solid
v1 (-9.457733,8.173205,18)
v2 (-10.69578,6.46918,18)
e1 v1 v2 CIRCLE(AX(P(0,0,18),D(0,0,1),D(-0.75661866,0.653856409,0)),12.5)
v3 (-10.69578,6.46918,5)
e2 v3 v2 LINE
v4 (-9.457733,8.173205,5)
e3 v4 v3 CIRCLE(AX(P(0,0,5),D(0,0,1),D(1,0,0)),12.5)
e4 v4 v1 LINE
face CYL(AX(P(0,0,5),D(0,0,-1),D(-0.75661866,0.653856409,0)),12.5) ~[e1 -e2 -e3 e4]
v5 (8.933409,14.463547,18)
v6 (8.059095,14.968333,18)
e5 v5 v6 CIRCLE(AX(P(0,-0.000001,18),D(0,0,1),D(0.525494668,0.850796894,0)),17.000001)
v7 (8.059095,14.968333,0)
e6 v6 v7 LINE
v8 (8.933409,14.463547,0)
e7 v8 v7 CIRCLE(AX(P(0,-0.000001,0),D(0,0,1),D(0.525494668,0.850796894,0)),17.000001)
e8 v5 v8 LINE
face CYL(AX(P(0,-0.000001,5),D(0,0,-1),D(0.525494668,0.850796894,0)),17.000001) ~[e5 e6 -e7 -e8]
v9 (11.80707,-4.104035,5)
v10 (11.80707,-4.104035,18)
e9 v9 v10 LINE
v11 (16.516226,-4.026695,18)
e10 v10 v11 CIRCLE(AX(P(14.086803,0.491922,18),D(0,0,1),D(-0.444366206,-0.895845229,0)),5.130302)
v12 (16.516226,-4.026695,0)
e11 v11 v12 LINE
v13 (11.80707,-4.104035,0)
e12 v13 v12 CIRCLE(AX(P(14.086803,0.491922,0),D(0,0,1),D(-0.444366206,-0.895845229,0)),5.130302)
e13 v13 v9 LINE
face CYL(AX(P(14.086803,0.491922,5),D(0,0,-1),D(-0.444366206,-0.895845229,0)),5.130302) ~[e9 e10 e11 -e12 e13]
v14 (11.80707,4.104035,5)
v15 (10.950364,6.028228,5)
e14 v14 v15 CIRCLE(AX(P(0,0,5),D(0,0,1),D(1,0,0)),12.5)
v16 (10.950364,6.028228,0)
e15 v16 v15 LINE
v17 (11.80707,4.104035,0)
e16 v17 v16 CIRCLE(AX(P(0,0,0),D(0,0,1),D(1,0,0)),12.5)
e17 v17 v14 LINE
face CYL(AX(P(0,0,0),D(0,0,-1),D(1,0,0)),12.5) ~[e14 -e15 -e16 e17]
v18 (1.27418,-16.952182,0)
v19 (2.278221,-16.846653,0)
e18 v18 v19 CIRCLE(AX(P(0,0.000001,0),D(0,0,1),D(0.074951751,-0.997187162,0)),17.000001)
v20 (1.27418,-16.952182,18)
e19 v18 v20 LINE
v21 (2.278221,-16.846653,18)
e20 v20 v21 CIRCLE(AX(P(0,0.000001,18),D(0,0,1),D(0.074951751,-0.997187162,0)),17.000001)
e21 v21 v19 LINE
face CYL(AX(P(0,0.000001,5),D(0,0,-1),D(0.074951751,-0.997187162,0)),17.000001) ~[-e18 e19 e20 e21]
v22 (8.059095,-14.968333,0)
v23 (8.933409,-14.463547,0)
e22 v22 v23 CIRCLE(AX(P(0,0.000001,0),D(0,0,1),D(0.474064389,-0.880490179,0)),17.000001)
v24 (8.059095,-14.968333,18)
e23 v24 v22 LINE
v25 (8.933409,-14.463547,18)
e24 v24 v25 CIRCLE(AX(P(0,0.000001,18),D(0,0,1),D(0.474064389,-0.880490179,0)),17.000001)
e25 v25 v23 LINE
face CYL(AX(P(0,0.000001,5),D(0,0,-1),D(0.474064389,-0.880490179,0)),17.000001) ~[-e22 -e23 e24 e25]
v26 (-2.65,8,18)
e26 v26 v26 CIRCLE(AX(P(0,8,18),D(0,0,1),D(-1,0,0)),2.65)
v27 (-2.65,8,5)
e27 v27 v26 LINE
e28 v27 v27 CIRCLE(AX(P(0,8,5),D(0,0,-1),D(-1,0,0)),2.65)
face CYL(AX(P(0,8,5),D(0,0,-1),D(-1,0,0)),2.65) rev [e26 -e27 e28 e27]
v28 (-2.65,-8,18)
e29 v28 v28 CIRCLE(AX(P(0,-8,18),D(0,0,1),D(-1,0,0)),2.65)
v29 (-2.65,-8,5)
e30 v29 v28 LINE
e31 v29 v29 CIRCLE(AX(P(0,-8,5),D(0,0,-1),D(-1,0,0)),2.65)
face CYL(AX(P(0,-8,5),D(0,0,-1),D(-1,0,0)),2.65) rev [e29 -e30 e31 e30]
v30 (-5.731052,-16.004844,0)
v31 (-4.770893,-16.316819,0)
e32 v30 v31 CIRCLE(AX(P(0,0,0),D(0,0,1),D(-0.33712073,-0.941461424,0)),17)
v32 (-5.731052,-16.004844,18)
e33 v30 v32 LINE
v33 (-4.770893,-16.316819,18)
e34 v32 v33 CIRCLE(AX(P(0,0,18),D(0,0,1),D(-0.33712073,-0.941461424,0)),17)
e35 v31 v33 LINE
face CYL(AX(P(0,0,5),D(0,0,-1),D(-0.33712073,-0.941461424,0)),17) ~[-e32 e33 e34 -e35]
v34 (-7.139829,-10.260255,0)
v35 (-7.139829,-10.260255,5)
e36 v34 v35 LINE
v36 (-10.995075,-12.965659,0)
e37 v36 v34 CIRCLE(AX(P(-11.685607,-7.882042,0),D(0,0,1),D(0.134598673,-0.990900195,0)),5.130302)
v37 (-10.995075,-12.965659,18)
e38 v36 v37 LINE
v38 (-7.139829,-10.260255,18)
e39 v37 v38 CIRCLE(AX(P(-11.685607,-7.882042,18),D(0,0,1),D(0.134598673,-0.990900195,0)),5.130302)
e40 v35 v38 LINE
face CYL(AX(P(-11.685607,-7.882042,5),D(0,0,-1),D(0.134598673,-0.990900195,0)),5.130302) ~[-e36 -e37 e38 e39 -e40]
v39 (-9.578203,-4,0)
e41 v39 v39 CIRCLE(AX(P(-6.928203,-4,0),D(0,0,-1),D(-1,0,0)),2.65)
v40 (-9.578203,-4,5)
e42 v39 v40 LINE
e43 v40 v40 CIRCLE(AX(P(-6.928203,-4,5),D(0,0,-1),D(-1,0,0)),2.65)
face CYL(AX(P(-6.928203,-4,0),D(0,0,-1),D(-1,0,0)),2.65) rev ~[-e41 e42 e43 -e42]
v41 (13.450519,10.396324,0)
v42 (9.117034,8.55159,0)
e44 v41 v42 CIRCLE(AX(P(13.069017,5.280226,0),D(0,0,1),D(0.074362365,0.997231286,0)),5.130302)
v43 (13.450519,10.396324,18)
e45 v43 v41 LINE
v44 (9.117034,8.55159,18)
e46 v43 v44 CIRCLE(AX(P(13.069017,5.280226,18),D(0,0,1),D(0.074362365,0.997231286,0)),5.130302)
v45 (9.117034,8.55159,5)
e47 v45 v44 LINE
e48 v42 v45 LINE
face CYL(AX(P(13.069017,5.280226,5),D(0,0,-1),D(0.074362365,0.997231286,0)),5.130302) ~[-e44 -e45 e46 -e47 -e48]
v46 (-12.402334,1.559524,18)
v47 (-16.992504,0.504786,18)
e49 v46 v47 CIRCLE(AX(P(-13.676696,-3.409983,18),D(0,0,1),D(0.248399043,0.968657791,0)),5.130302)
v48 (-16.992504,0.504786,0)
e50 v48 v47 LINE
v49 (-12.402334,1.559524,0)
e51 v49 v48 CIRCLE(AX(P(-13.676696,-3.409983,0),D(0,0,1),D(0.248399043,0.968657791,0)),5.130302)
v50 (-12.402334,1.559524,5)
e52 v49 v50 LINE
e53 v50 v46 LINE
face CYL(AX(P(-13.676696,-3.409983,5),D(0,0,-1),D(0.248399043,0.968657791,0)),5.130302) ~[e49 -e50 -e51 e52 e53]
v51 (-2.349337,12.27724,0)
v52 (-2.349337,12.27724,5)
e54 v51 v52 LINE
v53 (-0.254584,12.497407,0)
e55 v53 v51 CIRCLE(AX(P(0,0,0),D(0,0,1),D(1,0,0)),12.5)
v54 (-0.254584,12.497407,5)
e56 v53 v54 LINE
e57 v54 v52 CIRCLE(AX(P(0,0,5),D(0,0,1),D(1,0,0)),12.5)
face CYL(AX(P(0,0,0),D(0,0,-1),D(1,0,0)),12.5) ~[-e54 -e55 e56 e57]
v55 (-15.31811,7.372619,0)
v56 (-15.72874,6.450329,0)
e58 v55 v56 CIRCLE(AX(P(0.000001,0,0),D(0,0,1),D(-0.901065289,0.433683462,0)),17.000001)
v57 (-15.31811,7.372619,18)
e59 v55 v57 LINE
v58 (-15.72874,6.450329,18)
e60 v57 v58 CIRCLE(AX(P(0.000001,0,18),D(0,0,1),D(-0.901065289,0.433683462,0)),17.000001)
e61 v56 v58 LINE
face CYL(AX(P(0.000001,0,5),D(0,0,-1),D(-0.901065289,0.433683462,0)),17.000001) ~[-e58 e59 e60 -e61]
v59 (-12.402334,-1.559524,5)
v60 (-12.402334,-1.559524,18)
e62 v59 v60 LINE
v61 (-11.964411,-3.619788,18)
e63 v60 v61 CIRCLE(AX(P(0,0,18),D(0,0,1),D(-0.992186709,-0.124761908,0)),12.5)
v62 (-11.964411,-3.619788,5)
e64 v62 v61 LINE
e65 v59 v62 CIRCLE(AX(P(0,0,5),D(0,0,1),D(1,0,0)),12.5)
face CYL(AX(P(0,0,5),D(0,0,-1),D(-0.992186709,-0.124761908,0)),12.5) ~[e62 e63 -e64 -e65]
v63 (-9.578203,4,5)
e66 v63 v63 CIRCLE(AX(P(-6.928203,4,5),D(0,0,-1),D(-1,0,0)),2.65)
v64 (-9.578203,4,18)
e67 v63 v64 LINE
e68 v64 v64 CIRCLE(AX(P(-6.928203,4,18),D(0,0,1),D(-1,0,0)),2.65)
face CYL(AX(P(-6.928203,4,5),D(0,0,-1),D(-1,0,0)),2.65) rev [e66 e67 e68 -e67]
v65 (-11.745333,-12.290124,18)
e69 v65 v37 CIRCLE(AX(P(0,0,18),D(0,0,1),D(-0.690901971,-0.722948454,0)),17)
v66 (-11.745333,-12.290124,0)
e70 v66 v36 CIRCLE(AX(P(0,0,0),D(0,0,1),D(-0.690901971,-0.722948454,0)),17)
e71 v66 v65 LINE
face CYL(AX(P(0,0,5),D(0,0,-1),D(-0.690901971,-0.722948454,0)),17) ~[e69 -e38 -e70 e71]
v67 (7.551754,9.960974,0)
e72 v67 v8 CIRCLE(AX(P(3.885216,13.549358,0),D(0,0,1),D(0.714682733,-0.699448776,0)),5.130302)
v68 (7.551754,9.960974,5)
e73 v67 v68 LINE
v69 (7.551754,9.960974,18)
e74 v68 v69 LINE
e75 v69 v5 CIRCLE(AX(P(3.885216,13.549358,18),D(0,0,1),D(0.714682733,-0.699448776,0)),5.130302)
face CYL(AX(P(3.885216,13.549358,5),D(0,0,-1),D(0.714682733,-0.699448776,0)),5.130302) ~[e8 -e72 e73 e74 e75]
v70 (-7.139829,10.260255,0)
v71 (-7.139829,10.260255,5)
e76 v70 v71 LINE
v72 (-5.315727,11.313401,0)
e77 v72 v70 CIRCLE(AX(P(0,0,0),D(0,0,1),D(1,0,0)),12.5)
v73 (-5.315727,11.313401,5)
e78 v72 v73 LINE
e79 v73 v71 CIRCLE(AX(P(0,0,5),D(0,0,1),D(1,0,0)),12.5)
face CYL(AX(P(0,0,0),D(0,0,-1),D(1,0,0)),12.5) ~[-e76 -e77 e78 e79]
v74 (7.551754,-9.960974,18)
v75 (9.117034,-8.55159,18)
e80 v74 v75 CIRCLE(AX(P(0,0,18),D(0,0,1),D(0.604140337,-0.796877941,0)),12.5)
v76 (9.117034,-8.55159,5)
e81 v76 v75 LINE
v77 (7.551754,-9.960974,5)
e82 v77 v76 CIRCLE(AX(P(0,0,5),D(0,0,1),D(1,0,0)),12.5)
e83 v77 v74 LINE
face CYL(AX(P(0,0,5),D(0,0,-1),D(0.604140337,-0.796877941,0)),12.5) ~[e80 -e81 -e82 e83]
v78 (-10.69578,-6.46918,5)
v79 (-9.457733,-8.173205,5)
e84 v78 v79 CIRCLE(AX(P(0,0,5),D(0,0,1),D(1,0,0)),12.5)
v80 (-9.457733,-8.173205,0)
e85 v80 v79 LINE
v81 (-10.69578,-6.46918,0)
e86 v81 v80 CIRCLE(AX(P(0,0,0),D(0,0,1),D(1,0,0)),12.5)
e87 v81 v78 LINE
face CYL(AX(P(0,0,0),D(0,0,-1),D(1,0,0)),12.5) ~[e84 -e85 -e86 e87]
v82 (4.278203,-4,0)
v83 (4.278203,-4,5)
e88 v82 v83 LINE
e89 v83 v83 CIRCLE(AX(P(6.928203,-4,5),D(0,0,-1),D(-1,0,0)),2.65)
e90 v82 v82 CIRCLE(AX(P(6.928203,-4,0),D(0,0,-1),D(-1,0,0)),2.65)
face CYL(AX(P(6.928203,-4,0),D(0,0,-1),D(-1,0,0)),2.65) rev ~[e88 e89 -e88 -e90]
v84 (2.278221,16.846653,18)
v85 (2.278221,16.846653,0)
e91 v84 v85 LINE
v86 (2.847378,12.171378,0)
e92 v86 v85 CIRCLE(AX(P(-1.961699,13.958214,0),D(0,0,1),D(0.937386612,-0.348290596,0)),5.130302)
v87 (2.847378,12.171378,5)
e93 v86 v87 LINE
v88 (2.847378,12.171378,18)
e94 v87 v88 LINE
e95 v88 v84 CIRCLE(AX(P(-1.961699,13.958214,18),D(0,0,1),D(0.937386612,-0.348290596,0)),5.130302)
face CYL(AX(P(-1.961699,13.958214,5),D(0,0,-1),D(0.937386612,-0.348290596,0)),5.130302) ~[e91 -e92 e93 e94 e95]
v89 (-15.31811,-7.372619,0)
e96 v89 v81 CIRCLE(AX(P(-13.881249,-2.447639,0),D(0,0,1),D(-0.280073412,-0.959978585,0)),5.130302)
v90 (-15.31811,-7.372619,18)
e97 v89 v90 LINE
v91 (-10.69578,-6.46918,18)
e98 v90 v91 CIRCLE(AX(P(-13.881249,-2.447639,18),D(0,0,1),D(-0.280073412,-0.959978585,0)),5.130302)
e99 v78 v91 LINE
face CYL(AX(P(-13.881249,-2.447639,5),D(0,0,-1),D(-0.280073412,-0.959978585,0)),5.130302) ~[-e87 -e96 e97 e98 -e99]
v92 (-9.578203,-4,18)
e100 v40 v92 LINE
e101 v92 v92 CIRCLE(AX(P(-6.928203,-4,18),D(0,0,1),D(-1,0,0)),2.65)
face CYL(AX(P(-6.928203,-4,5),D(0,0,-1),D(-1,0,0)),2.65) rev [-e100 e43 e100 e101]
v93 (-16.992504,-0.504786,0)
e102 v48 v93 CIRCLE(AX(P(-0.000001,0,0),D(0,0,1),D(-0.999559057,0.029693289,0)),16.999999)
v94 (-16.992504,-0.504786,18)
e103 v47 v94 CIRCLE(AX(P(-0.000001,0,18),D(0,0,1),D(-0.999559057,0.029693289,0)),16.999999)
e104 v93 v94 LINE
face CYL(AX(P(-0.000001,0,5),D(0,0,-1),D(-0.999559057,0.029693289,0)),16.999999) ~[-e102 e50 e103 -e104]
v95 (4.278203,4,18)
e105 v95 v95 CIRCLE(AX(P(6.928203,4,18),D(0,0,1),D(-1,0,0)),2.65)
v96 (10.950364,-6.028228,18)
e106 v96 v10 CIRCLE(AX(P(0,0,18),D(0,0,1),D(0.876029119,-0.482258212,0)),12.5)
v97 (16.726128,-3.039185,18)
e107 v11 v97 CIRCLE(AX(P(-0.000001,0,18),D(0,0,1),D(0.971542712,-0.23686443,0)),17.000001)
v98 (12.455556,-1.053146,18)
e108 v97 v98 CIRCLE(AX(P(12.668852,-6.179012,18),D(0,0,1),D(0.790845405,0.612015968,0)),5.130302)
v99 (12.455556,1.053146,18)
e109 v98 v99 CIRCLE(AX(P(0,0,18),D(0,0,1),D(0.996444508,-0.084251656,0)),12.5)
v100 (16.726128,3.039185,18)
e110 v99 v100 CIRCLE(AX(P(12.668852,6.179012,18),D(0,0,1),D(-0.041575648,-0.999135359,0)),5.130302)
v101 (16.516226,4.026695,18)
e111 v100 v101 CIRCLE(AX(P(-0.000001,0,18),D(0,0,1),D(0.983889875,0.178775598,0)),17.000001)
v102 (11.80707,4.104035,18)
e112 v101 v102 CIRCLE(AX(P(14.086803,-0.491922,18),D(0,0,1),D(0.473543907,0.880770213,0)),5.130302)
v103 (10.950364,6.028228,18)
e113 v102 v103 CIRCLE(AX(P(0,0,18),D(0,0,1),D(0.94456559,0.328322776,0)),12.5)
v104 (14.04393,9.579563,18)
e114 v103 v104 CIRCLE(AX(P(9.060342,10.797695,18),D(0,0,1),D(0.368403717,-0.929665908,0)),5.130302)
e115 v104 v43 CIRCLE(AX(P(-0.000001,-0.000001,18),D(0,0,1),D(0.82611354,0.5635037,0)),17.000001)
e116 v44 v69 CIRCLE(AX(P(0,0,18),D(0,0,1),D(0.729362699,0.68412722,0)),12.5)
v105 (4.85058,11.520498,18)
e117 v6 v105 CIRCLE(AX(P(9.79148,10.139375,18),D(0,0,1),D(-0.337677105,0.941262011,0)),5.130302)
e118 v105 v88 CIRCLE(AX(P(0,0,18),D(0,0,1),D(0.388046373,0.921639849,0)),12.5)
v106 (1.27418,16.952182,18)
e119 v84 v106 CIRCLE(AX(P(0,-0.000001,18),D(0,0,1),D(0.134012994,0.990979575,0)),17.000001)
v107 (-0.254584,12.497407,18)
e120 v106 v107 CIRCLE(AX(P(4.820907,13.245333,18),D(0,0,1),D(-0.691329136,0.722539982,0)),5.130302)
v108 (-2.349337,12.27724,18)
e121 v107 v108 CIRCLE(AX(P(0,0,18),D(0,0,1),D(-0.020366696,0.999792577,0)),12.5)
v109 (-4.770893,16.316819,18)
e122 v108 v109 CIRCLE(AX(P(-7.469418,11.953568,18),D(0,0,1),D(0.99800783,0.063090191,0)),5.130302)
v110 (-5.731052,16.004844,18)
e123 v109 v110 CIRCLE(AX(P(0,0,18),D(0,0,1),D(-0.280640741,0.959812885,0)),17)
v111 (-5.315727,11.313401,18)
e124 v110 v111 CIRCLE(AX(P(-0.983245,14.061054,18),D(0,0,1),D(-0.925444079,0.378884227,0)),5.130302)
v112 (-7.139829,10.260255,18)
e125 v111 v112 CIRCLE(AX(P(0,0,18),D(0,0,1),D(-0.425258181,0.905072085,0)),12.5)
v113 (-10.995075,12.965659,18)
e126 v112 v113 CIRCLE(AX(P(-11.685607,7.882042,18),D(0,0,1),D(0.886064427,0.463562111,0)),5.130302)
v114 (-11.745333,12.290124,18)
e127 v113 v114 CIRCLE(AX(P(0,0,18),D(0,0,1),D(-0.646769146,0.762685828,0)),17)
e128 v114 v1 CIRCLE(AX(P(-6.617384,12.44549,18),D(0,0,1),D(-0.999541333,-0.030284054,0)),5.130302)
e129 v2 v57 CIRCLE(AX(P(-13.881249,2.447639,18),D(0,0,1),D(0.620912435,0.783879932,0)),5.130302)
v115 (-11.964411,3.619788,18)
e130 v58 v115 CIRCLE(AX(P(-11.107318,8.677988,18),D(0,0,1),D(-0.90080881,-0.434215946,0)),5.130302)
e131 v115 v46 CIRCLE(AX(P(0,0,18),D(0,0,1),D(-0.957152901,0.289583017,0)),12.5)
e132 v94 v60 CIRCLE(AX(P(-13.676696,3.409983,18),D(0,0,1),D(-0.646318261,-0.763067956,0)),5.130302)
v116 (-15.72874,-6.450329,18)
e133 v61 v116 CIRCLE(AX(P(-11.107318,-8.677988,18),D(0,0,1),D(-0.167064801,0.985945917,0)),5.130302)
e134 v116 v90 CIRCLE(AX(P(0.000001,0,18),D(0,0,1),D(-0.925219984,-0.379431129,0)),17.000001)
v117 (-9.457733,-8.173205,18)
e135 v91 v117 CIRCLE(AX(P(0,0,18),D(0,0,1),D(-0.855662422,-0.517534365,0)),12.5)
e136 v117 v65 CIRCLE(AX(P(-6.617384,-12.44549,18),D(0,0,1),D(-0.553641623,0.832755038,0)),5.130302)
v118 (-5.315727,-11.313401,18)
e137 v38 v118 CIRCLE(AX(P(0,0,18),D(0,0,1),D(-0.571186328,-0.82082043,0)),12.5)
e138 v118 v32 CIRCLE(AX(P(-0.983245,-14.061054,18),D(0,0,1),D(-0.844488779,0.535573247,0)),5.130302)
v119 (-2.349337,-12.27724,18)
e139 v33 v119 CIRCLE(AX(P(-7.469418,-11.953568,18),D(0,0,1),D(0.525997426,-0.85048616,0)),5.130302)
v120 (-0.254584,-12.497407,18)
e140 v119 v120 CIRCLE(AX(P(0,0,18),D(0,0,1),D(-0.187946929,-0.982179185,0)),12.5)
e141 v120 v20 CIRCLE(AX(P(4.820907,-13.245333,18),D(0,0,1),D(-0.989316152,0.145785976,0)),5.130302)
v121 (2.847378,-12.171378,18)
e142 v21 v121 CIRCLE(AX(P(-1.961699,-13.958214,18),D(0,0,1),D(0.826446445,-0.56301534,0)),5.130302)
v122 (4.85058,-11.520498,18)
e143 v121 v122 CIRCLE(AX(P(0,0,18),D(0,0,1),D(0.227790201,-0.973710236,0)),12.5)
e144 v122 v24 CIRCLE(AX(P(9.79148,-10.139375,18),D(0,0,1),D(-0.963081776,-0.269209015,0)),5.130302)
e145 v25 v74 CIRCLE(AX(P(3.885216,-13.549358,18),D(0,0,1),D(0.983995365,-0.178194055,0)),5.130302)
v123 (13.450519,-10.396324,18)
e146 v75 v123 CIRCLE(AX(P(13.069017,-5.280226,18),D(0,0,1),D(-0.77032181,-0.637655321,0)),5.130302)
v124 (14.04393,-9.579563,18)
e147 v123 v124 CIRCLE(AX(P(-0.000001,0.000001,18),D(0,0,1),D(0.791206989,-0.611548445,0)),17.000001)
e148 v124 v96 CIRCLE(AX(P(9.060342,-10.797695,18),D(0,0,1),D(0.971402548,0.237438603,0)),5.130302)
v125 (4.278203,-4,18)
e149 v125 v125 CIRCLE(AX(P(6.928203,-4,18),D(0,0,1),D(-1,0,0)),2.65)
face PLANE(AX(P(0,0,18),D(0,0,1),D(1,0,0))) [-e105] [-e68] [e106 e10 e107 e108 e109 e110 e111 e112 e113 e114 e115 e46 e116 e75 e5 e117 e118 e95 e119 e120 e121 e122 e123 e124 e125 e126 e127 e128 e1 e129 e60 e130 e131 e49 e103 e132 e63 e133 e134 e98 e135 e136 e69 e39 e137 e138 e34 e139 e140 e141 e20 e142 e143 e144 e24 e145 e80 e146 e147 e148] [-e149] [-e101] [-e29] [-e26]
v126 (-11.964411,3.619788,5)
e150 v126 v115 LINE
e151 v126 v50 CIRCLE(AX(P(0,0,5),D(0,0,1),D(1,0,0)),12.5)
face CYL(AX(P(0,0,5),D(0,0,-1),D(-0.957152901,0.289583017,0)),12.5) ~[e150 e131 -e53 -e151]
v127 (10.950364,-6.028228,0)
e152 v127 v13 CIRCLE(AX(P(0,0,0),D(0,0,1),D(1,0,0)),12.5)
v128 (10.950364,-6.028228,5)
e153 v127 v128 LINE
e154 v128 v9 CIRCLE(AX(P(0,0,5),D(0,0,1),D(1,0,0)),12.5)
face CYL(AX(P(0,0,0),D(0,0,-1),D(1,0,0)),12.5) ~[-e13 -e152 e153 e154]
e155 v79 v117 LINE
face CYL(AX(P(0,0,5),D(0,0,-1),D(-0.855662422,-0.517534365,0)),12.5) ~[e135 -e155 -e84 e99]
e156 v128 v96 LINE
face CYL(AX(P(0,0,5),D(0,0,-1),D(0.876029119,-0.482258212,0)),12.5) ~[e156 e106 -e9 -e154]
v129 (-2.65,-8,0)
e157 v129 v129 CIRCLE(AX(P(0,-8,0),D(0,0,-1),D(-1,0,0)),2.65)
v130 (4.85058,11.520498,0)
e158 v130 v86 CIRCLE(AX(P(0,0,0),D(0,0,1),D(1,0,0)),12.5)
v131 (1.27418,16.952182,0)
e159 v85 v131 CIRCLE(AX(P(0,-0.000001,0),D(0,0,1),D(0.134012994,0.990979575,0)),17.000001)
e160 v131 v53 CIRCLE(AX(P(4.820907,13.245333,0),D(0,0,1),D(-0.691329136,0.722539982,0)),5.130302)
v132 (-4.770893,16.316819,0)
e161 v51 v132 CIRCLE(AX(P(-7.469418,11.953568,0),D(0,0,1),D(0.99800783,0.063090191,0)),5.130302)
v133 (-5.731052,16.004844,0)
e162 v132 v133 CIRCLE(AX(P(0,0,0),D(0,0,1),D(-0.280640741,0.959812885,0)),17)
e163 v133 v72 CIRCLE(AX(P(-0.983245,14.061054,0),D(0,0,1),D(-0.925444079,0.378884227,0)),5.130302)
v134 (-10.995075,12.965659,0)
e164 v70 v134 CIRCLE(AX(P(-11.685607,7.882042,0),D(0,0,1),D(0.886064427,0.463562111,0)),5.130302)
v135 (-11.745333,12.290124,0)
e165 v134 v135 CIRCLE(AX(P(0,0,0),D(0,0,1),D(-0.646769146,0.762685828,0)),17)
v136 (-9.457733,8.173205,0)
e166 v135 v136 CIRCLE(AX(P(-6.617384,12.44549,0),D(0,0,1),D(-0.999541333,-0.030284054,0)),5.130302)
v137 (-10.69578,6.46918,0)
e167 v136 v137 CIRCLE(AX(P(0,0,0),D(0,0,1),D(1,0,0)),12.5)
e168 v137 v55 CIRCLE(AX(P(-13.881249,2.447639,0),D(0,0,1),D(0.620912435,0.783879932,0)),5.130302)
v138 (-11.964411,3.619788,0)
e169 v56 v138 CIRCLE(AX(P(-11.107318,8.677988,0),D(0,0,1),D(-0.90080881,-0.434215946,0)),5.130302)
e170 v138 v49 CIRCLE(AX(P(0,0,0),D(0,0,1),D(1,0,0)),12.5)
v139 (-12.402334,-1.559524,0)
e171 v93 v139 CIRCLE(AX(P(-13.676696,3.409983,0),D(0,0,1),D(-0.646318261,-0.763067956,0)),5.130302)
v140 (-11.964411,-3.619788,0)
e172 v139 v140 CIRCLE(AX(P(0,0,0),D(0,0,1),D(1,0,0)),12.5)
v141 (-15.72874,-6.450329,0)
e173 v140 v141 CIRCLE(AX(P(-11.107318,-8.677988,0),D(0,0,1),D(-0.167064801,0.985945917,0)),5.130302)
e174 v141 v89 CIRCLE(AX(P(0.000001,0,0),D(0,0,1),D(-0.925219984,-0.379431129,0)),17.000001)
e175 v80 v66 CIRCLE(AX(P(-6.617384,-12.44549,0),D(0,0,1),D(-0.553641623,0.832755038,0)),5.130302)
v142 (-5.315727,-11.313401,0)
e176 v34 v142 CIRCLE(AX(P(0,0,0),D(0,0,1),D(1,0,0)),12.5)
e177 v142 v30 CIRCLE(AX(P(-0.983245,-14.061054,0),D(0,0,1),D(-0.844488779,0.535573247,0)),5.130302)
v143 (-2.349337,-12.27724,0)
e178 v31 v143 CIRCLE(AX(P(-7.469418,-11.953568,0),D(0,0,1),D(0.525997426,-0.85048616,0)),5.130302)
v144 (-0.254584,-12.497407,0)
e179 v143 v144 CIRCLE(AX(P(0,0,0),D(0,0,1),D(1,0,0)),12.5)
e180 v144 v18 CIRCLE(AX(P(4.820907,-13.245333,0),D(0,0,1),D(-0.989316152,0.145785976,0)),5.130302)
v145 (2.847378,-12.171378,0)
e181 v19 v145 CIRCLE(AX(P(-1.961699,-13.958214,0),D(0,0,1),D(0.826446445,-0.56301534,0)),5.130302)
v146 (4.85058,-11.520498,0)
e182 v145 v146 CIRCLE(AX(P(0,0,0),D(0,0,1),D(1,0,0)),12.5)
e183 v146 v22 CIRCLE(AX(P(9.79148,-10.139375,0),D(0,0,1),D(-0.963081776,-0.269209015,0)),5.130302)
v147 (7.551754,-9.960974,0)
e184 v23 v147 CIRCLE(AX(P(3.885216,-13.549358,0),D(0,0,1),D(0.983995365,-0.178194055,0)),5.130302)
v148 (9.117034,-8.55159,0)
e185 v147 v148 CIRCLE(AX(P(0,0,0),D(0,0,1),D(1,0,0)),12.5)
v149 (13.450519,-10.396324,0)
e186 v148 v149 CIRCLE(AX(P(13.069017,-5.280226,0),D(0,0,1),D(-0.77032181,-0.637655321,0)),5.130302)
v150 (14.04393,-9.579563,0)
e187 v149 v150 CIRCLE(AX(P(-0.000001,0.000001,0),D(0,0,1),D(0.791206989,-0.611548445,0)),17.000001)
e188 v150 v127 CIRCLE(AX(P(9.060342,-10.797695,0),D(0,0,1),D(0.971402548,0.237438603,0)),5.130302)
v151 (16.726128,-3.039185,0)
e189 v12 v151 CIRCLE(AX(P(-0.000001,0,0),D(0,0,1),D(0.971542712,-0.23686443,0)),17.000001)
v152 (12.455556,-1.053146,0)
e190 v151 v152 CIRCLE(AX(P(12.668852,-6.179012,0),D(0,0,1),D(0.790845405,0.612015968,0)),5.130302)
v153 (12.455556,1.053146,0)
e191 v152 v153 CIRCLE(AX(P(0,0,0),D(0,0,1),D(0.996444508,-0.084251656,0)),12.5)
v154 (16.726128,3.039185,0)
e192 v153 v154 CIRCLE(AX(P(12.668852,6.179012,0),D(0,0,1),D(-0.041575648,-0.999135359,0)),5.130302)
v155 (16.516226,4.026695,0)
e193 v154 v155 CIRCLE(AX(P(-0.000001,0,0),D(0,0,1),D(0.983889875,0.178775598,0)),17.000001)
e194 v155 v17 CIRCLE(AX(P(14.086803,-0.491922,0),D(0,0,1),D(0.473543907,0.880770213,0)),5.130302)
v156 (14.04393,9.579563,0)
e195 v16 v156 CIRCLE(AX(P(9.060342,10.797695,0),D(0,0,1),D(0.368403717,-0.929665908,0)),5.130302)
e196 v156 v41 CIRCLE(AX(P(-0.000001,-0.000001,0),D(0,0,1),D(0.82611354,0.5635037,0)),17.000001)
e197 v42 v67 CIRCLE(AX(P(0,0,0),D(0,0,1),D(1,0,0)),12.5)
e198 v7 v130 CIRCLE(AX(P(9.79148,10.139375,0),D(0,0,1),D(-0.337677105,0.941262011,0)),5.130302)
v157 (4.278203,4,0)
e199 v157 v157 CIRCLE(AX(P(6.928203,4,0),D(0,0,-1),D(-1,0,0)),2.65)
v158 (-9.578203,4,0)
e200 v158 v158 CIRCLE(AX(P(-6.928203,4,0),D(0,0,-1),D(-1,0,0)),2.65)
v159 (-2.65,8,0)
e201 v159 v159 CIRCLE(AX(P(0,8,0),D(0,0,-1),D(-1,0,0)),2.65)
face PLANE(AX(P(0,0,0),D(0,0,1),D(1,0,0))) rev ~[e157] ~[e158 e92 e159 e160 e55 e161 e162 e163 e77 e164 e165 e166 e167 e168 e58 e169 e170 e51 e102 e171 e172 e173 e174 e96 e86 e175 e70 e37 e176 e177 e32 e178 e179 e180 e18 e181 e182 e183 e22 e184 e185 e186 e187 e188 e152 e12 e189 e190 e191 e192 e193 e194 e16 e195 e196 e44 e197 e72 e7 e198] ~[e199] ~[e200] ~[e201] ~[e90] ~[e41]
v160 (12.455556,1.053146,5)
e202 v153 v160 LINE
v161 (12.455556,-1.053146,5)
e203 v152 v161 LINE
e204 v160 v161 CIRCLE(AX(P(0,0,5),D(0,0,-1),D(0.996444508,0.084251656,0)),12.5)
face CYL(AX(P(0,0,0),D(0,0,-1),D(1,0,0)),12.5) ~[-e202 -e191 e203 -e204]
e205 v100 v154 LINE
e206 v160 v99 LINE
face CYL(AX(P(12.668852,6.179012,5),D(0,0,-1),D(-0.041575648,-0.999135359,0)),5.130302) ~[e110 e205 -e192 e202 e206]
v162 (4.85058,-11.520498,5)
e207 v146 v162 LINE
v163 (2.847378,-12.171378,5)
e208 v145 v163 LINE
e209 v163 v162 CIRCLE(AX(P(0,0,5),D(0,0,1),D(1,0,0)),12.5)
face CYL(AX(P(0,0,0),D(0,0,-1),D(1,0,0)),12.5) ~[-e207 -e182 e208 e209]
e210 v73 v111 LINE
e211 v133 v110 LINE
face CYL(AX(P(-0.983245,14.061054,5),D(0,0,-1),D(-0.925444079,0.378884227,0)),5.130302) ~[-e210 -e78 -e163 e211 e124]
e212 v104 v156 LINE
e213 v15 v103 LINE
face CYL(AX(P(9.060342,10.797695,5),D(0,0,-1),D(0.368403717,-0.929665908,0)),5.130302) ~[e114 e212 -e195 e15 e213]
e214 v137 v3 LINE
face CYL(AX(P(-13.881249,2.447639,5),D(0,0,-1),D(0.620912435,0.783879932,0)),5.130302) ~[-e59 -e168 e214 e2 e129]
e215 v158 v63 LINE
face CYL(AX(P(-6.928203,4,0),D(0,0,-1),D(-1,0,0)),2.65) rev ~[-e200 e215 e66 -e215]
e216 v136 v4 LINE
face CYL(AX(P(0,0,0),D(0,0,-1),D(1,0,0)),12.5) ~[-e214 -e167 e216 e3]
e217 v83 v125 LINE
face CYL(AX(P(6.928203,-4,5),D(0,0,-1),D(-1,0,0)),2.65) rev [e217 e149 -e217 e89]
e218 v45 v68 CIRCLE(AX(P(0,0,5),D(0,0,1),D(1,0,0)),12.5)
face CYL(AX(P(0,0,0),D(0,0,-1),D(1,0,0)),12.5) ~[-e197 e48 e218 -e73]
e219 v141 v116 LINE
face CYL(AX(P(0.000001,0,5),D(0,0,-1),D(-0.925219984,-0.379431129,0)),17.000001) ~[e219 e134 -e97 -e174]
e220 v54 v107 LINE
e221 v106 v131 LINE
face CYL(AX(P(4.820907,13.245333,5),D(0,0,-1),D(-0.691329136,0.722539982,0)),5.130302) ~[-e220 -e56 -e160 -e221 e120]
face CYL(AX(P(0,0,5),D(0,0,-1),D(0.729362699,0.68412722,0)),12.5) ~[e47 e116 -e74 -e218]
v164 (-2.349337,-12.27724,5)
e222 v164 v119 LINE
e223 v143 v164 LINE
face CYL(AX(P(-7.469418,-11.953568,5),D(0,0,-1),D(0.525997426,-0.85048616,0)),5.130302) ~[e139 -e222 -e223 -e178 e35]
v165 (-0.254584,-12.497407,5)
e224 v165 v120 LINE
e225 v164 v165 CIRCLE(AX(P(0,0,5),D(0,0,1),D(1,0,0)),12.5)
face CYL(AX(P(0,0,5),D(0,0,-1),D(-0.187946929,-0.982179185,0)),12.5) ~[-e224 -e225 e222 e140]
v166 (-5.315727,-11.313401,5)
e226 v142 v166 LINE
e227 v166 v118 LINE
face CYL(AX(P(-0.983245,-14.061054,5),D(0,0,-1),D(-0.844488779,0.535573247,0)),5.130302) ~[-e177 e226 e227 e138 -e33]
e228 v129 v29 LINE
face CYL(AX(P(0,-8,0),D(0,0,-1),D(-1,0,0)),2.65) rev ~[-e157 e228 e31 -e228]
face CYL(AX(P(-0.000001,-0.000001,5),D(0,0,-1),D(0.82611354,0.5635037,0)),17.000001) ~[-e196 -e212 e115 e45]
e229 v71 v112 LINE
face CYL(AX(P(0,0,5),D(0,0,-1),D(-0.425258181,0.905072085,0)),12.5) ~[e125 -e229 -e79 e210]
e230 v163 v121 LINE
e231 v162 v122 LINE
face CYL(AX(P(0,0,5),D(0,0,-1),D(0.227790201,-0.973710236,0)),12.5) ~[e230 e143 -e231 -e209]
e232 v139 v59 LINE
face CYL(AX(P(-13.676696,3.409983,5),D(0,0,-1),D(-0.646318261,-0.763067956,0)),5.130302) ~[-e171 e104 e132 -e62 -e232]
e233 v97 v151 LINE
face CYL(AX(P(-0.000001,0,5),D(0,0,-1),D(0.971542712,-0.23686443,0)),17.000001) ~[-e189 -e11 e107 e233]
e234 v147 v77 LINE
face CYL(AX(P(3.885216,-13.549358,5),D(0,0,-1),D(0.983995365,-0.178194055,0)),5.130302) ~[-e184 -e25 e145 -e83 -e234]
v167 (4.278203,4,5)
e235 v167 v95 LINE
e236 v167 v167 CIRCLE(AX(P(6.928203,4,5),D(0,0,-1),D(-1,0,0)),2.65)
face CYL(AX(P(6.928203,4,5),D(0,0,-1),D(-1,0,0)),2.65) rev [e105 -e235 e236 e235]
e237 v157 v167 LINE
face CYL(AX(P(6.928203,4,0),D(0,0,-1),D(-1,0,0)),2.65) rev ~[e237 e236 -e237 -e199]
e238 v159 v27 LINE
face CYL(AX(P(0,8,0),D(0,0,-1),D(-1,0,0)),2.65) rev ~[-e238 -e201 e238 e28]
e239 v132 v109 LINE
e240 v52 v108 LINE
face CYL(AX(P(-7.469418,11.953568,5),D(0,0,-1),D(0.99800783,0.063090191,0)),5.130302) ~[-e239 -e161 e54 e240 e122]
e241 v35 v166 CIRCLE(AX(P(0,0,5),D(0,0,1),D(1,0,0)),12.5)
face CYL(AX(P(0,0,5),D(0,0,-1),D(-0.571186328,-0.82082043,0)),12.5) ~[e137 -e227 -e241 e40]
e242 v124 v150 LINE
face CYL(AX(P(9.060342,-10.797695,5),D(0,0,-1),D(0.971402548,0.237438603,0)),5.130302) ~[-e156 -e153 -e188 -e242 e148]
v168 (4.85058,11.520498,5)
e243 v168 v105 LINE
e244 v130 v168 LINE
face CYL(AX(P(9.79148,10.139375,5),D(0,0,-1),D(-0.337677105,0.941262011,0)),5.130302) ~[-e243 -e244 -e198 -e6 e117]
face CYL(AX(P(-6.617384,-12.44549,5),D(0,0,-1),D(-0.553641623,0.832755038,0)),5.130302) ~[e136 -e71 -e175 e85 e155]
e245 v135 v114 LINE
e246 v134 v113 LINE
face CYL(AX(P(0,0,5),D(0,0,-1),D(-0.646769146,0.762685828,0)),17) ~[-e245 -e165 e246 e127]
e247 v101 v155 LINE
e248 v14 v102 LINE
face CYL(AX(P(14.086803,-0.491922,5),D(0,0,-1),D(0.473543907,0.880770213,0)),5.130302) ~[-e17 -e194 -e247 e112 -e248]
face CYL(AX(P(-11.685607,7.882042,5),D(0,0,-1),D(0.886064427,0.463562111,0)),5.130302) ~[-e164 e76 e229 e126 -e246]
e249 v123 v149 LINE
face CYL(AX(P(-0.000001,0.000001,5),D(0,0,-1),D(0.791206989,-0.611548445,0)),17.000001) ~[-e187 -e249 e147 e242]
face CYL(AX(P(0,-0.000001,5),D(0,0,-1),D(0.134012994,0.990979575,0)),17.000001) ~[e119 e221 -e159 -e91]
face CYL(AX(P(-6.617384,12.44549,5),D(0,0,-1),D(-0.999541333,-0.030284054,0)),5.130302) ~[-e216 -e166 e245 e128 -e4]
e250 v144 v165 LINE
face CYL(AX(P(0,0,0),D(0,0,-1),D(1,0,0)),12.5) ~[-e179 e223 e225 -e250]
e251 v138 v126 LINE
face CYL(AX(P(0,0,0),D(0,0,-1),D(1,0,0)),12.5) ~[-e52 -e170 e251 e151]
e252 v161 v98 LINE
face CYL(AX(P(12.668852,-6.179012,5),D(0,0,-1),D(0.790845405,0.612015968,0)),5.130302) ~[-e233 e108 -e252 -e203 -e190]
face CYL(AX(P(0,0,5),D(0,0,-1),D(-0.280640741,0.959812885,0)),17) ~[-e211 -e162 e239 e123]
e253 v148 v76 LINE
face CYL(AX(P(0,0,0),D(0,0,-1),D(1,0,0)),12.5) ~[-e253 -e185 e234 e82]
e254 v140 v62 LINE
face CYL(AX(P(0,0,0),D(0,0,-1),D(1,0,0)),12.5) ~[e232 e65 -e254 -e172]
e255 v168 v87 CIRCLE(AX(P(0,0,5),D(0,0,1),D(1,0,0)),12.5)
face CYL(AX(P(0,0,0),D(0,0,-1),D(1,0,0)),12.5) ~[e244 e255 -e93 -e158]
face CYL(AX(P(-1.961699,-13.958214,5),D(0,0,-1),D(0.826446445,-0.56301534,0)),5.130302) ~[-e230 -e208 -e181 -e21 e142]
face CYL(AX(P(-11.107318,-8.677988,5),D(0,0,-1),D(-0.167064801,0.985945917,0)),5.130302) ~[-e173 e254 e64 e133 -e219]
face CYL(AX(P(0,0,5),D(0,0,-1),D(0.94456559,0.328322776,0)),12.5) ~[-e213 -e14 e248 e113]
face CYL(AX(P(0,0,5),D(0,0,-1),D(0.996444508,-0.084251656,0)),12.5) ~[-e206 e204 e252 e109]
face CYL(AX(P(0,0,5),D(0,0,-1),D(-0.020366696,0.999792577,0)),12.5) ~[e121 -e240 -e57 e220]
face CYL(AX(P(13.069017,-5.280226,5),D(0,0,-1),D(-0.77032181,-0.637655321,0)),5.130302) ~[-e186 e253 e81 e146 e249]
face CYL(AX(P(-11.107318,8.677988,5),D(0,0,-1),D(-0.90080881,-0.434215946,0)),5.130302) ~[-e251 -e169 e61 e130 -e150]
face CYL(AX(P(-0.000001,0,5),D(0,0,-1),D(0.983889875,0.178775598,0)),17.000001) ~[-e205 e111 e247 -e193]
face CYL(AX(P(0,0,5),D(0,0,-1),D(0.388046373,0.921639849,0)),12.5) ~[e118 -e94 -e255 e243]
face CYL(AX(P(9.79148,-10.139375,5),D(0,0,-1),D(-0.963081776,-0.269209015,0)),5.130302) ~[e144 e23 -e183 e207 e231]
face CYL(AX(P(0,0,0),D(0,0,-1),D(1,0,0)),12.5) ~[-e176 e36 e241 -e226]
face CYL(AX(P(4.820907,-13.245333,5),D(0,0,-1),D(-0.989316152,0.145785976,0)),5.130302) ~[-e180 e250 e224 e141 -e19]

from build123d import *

# Parameters (mm, degrees)
SKETCH_1_R          = 12.5
EXTRUDE_2_DEPTH     = 5
EXTRUDE_START       = -5
EXTRUDE_4_DEPTH     = 5
SKETCH_5_R          = 2.65
CUT_EXTRUDE_1_DEPTH = 5
SKETCH_8_R          = 2.65
EXTRUDE_6_DEPTH     = 13


with BuildPart() as part:
    # 草图1 → 凸台-拉伸2 (new body)
    with BuildSketch(Plane.XY):
        Circle(SKETCH_1_R)
    extrude(amount=EXTRUDE_2_DEPTH)

    # 草图4 → 凸台-拉伸4 (add)
    with BuildSketch(Plane.XY.offset(5).offset(EXTRUDE_START)):
        with BuildLine():
            ThreePointArc((7.551754202, 9.960974273), (8.789798259, 12.044342407), (8.933409377, 14.463547176))
            ThreePointArc((8.933409377, 14.463547176), (8.5, 14.722431864), (8.059094594, 14.968333051))
            ThreePointArc((8.059094594, 14.968333051), (6.035807367, 13.63435979), (4.850579666, 11.520498119))
            ThreePointArc((4.850579666, 11.520498119), (6.25, 10.825317547), (7.551754202, 9.960974273))
        make_face()
        with BuildLine():
            ThreePointArc((10.950363986, 6.028227648), (12.928755671, 7.427921259), (14.043930183, 9.579562882))
            ThreePointArc((14.043930183, 9.579562882), (13.753288904, 9.992349289), (13.450518797, 10.396323586))
            ThreePointArc((13.450518797, 10.396323586), (11.059578134, 10.000623427), (9.117033752, 8.551590236))
            ThreePointArc((9.117033752, 8.551590236), (10.11271243, 7.347315654), (10.950363986, 6.028227648))
        make_face()
        with BuildLine():
            ThreePointArc((12.455556356, 1.053145697), (14.832213775, 1.527145045), (16.726127875, 3.039185139))
            ThreePointArc((16.726127875, 3.039185139), (16.628509212, 3.534498744), (16.516226105, 4.026695325))
            ThreePointArc((16.516226105, 4.026695325), (14.17104737, 4.637688421), (11.807069877, 4.104034712))
            ThreePointArc((11.807069877, 4.104034712), (12.226845009, 2.598896135), (12.455556356, 1.053145697))
        make_face()
        with BuildLine():
            ThreePointArc((16.516226105, -4.026695325), (16.628509212, -3.534498744), (16.726127875, -3.039185139))
            ThreePointArc((16.726127875, -3.039185139), (14.832213775, -1.527145045), (12.455556356, -1.053145697))
            ThreePointArc((12.455556356, -1.053145697), (12.226845009, -2.598896135), (11.807069877, -4.104034712))
            ThreePointArc((11.807069877, -4.104034712), (14.17104737, -4.637688421), (16.516226105, -4.026695325))
        make_face()
        with BuildLine():
            ThreePointArc((13.450518797, -10.396323586), (13.753288904, -9.992349289), (14.043930183, -9.579562882))
            ThreePointArc((14.043930183, -9.579562882), (12.928755671, -7.427921259), (10.950363986, -6.028227648))
            ThreePointArc((10.950363986, -6.028227648), (10.11271243, -7.347315654), (9.117033752, -8.551590236))
            ThreePointArc((9.117033752, -8.551590236), (11.059578134, -10.000623427), (13.450518797, -10.396323586))
        make_face()
        with BuildLine():
            ThreePointArc((8.059094594, -14.968333051), (8.5, -14.722431864), (8.933409377, -14.463547176))
            ThreePointArc((8.933409377, -14.463547176), (8.789798259, -12.044342407), (7.551754202, -9.960974273))
            ThreePointArc((7.551754202, -9.960974273), (6.25, -10.825317547), (4.850579666, -11.520498119))
            ThreePointArc((4.850579666, -11.520498119), (6.035807367, -13.63435979), (8.059094594, -14.968333051))
        make_face()
        with BuildLine():
            ThreePointArc((1.274179722, -16.952181749), (1.776983876, -16.906872221), (2.278220933, -16.846652765))
            ThreePointArc((2.278220933, -16.846652765), (3.131004874, -14.578187333), (2.847377511, -12.171377955))
            ThreePointArc((2.847377511, -12.171377955), (1.306605791, -12.431523692), (-0.25458371, -12.497407216))
            ThreePointArc((-0.25458371, -12.497407216), (-0.031609328, -14.91059148), (1.274179722, -16.952181749))
        make_face()
        with BuildLine():
            ThreePointArc((-5.7310524, -16.004844216), (-5.253288904, -16.167960777), (-4.770892608, -16.316819044))
            ThreePointArc((-4.770892608, -16.316819044), (-3.069167697, -14.591331231), (-2.34933662, -12.277239814))
            ThreePointArc((-2.34933662, -12.277239814), (-3.86271243, -11.888206454), (-5.315727251, -11.313401071))
            ThreePointArc((-5.315727251, -11.313401071), (-6.093560483, -13.608646446), (-5.7310524, -16.004844216))
        make_face()
        with BuildLine():
            ThreePointArc((-11.745333497, -12.290123719), (-11.375220308, -12.633462033), (-10.995075475, -12.965659077))
            ThreePointArc((-10.995075475, -12.965659077), (-8.738653291, -12.081501401), (-7.139829106, -10.260255374))
            ThreePointArc((-7.139829106, -10.260255374), (-8.364132579, -9.289310318), (-9.457733257, -8.173205102))
            ThreePointArc((-9.457733257, -8.173205102), (-11.101879672, -9.95364281), (-11.745333497, -12.290123719))
        make_face()
        with BuildLine():
            ThreePointArc((2.847377511, 12.171377955), (3.131004874, 14.578187333), (2.278220933, 16.846652765))
            ThreePointArc((2.278220933, 16.846652765), (1.776983876, 16.906872221), (1.274179722, 16.952181749))
            ThreePointArc((1.274179722, 16.952181749), (-0.031609328, 14.91059148), (-0.25458371, 12.497407216))
            ThreePointArc((-0.25458371, 12.497407216), (1.306605791, 12.431523692), (2.847377511, 12.171377955))
        make_face()
        with BuildLine():
            ThreePointArc((-2.34933662, 12.277239814), (-3.069167697, 14.591331231), (-4.770892608, 16.316819044))
            ThreePointArc((-4.770892608, 16.316819044), (-5.253288904, 16.167960777), (-5.7310524, 16.004844216))
            ThreePointArc((-5.7310524, 16.004844216), (-6.093560483, 13.608646446), (-5.315727251, 11.313401071))
            ThreePointArc((-5.315727251, 11.313401071), (-3.86271243, 11.888206454), (-2.34933662, 12.277239814))
        make_face()
        with BuildLine():
            ThreePointArc((-7.139829106, 10.260255374), (-8.738653291, 12.081501401), (-10.995075475, 12.965659077))
            ThreePointArc((-10.995075475, 12.965659077), (-11.375220308, 12.633462033), (-11.745333497, 12.290123719))
            ThreePointArc((-11.745333497, 12.290123719), (-11.101879672, 9.95364281), (-9.457733257, 8.173205102))
            ThreePointArc((-9.457733257, 8.173205102), (-8.364132579, 9.289310318), (-7.139829106, 10.260255374))
        make_face()
        with BuildLine():
            ThreePointArc((-10.695780276, 6.469179569), (-12.897146343, 7.482670221), (-15.318109905, 7.372618866))
            ThreePointArc((-15.318109905, 7.372618866), (-15.53027278, 6.914522932), (-15.72873973, 6.450329179))
            ThreePointArc((-15.72873973, 6.450329179), (-14.190583009, 4.577563906), (-11.964411263, 3.619787719))
            ThreePointArc((-11.964411263, 3.619787719), (-11.419318221, 5.084208038), (-10.695780276, 6.469179569))
        make_face()
        with BuildLine():
            ThreePointArc((-12.402333868, 1.559523845), (-14.825605626, 1.590017383), (-16.992503971, 0.504785875))
            ThreePointArc((-16.992503971, 0.504785875), (-17, 0), (-16.992503971, -0.504785875))
            ThreePointArc((-16.992503971, -0.504785875), (-14.825605626, -1.590017383), (-12.402333868, -1.559523845))
            ThreePointArc((-12.402333868, -1.559523845), (-12.5, 0), (-12.402333868, 1.559523845))
        make_face()
        with BuildLine():
            ThreePointArc((-15.72873973, -6.450329179), (-15.53027278, -6.914522932), (-15.318109905, -7.372618866))
            ThreePointArc((-15.318109905, -7.372618866), (-12.897146343, -7.482670221), (-10.695780276, -6.469179569))
            ThreePointArc((-10.695780276, -6.469179569), (-11.419318221, -5.084208038), (-11.964411263, -3.619787719))
            ThreePointArc((-11.964411263, -3.619787719), (-14.190583009, -4.577563906), (-15.72873973, -6.450329179))
        make_face()
    extrude(amount=EXTRUDE_4_DEPTH)

    # 草图5 → 切除-拉伸1 (cut)
    with BuildSketch(Plane(origin=(0, 0, 0), x_dir=(-1, 0, 0), z_dir=(0, 0, -1))):
        with Locations((0, 8)):
            Circle(SKETCH_5_R)
        with Locations((6.92820323, 4)):
            Circle(SKETCH_5_R)
        with Locations((6.92820323, -4)):
            Circle(SKETCH_5_R)
        with Locations((0, -8)):
            Circle(SKETCH_5_R)
        with Locations((-6.92820323, -4)):
            Circle(SKETCH_5_R)
        with Locations((-6.92820323, 4)):
            Circle(SKETCH_5_R)
    extrude(amount=-CUT_EXTRUDE_1_DEPTH, mode=Mode.SUBTRACT)

    # 草图8 → 凸台-拉伸6 (add)
    with BuildSketch(Plane.XY.offset(5)):
        with BuildLine():
            ThreePointArc((-0.25458371, 12.497407216), (-1.306605791, 12.431523692), (-2.34933662, 12.277239814))
            ThreePointArc((-2.34933662, 12.277239814), (-3.069167697, 14.591331231), (-4.770892608, 16.316819044))
            ThreePointArc((-4.770892608, 16.316819044), (-5.253288904, 16.167960777), (-5.7310524, 16.004844216))
            ThreePointArc((-5.7310524, 16.004844216), (-6.093560483, 13.608646446), (-5.315727251, 11.313401071))
            ThreePointArc((-5.315727251, 11.313401071), (-6.25, 10.825317547), (-7.139829106, 10.260255374))
            ThreePointArc((-7.139829106, 10.260255374), (-8.738653291, 12.081501401), (-10.995075475, 12.965659077))
            ThreePointArc((-10.995075475, 12.965659077), (-11.375220308, 12.633462033), (-11.745333497, 12.290123719))
            ThreePointArc((-11.745333497, 12.290123719), (-11.101879672, 9.95364281), (-9.457733257, 8.173205102))
            ThreePointArc((-9.457733257, 8.173205102), (-10.11271243, 7.347315654), (-10.695780276, 6.469179569))
            ThreePointArc((-10.695780276, 6.469179569), (-12.897146343, 7.482670221), (-15.318109905, 7.372618866))
            ThreePointArc((-15.318109905, 7.372618866), (-15.53027278, 6.914522932), (-15.72873973, 6.450329179))
            ThreePointArc((-15.72873973, 6.450329179), (-14.190583009, 4.577563906), (-11.964411263, 3.619787719))
            ThreePointArc((-11.964411263, 3.619787719), (-12.226845009, 2.598896135), (-12.402333868, 1.559523845))
            ThreePointArc((-12.402333868, 1.559523845), (-14.825605626, 1.590017383), (-16.992503971, 0.504785875))
            ThreePointArc((-16.992503971, 0.504785875), (-17, 0), (-16.992503971, -0.504785875))
            ThreePointArc((-16.992503971, -0.504785875), (-14.825605626, -1.590017383), (-12.402333868, -1.559523845))
            ThreePointArc((-12.402333868, -1.559523845), (-12.226845009, -2.598896135), (-11.964411263, -3.619787719))
            ThreePointArc((-11.964411263, -3.619787719), (-14.190583009, -4.577563906), (-15.72873973, -6.450329179))
            ThreePointArc((-15.72873973, -6.450329179), (-15.53027278, -6.914522932), (-15.318109905, -7.372618866))
            ThreePointArc((-15.318109905, -7.372618866), (-12.897146343, -7.482670221), (-10.695780276, -6.469179569))
            ThreePointArc((-10.695780276, -6.469179569), (-10.11271243, -7.347315654), (-9.457733257, -8.173205102))
            ThreePointArc((-9.457733257, -8.173205102), (-11.101879672, -9.95364281), (-11.745333497, -12.290123719))
            ThreePointArc((-11.745333497, -12.290123719), (-11.375220308, -12.633462033), (-10.995075475, -12.965659077))
            ThreePointArc((-10.995075475, -12.965659077), (-8.738653291, -12.081501401), (-7.139829106, -10.260255374))
            ThreePointArc((-7.139829106, -10.260255374), (-6.25, -10.825317547), (-5.315727251, -11.313401071))
            ThreePointArc((-5.315727251, -11.313401071), (-6.093560483, -13.608646446), (-5.7310524, -16.004844216))
            ThreePointArc((-5.7310524, -16.004844216), (-5.253288904, -16.167960777), (-4.770892608, -16.316819044))
            ThreePointArc((-4.770892608, -16.316819044), (-3.069167697, -14.591331231), (-2.34933662, -12.277239814))
            ThreePointArc((-2.34933662, -12.277239814), (-1.306605791, -12.431523692), (-0.25458371, -12.497407216))
            ThreePointArc((-0.25458371, -12.497407216), (-0.031609328, -14.91059148), (1.274179722, -16.952181749))
            ThreePointArc((1.274179722, -16.952181749), (1.776983876, -16.906872221), (2.278220933, -16.846652765))
            ThreePointArc((2.278220933, -16.846652765), (3.131004874, -14.578187333), (2.847377511, -12.171377955))
            ThreePointArc((2.847377511, -12.171377955), (3.86271243, -11.888206454), (4.850579666, -11.520498119))
            ThreePointArc((4.850579666, -11.520498119), (6.035807367, -13.63435979), (8.059094594, -14.968333051))
            ThreePointArc((8.059094594, -14.968333051), (8.5, -14.722431864), (8.933409377, -14.463547176))
            ThreePointArc((8.933409377, -14.463547176), (8.789798259, -12.044342407), (7.551754202, -9.960974273))
            ThreePointArc((7.551754202, -9.960974273), (8.364132579, -9.289310318), (9.117033752, -8.551590236))
            ThreePointArc((9.117033752, -8.551590236), (11.059578134, -10.000623427), (13.450518797, -10.396323586))
            ThreePointArc((13.450518797, -10.396323586), (13.753288904, -9.992349289), (14.043930183, -9.579562882))
            ThreePointArc((14.043930183, -9.579562882), (12.928755671, -7.427921259), (10.950363986, -6.028227648))
            ThreePointArc((10.950363986, -6.028227648), (11.419318221, -5.084208038), (11.807069877, -4.104034712))
            ThreePointArc((11.807069877, -4.104034712), (14.17104737, -4.637688421), (16.516226105, -4.026695325))
            ThreePointArc((16.516226105, -4.026695325), (16.628509212, -3.534498744), (16.726127875, -3.039185139))
            ThreePointArc((16.726127875, -3.039185139), (14.832213775, -1.527145045), (12.455556356, -1.053145697))
            ThreePointArc((12.455556356, -1.053145697), (12.5, 0), (12.455556356, 1.053145697))
            ThreePointArc((12.455556356, 1.053145697), (14.832213775, 1.527145045), (16.726127875, 3.039185139))
            ThreePointArc((16.726127875, 3.039185139), (16.628509212, 3.534498744), (16.516226105, 4.026695325))
            ThreePointArc((16.516226105, 4.026695325), (14.17104737, 4.637688421), (11.807069877, 4.104034712))
            ThreePointArc((11.807069877, 4.104034712), (11.419318221, 5.084208038), (10.950363986, 6.028227648))
            ThreePointArc((10.950363986, 6.028227648), (12.928755671, 7.427921259), (14.043930183, 9.579562882))
            ThreePointArc((14.043930183, 9.579562882), (13.753288904, 9.992349289), (13.450518797, 10.396323586))
            ThreePointArc((13.450518797, 10.396323586), (11.059578134, 10.000623427), (9.117033752, 8.551590236))
            ThreePointArc((9.117033752, 8.551590236), (8.364132579, 9.289310318), (7.551754202, 9.960974273))
            ThreePointArc((7.551754202, 9.960974273), (8.789798259, 12.044342407), (8.933409377, 14.463547176))
            ThreePointArc((8.933409377, 14.463547176), (8.5, 14.722431864), (8.059094594, 14.968333051))
            ThreePointArc((8.059094594, 14.968333051), (6.035807367, 13.63435979), (4.850579666, 11.520498119))
            ThreePointArc((4.850579666, 11.520498119), (3.86271243, 11.888206454), (2.847377511, 12.171377955))
            ThreePointArc((2.847377511, 12.171377955), (3.131004874, 14.578187333), (2.278220933, 16.846652765))
            ThreePointArc((2.278220933, 16.846652765), (1.776983876, 16.906872221), (1.274179722, 16.952181749))
            ThreePointArc((1.274179722, 16.952181749), (-0.031609328, 14.91059148), (-0.25458371, 12.497407216))
        make_face()
        with Locations(Location((6.92820323, 4, 0), (0, 0, 180))):
            Circle(SKETCH_8_R, mode=Mode.SUBTRACT)
        with Locations(Location((0, 8, 0), (0, 0, 180))):
            Circle(SKETCH_8_R, mode=Mode.SUBTRACT)
        with Locations(Location((6.92820323, -4, 0), (0, 0, 180))):
            Circle(SKETCH_8_R, mode=Mode.SUBTRACT)
        with Locations(Location((0, -8, 0), (0, 0, 180))):
            Circle(SKETCH_8_R, mode=Mode.SUBTRACT)
        with Locations(Location((-6.92820323, -4, 0), (0, 0, 180))):
            Circle(SKETCH_8_R, mode=Mode.SUBTRACT)
        with Locations(Location((-6.92820323, 4, 0), (0, 0, 180))):
            Circle(SKETCH_8_R, mode=Mode.SUBTRACT)
    extrude(amount=EXTRUDE_6_DEPTH)


solid = part.part
